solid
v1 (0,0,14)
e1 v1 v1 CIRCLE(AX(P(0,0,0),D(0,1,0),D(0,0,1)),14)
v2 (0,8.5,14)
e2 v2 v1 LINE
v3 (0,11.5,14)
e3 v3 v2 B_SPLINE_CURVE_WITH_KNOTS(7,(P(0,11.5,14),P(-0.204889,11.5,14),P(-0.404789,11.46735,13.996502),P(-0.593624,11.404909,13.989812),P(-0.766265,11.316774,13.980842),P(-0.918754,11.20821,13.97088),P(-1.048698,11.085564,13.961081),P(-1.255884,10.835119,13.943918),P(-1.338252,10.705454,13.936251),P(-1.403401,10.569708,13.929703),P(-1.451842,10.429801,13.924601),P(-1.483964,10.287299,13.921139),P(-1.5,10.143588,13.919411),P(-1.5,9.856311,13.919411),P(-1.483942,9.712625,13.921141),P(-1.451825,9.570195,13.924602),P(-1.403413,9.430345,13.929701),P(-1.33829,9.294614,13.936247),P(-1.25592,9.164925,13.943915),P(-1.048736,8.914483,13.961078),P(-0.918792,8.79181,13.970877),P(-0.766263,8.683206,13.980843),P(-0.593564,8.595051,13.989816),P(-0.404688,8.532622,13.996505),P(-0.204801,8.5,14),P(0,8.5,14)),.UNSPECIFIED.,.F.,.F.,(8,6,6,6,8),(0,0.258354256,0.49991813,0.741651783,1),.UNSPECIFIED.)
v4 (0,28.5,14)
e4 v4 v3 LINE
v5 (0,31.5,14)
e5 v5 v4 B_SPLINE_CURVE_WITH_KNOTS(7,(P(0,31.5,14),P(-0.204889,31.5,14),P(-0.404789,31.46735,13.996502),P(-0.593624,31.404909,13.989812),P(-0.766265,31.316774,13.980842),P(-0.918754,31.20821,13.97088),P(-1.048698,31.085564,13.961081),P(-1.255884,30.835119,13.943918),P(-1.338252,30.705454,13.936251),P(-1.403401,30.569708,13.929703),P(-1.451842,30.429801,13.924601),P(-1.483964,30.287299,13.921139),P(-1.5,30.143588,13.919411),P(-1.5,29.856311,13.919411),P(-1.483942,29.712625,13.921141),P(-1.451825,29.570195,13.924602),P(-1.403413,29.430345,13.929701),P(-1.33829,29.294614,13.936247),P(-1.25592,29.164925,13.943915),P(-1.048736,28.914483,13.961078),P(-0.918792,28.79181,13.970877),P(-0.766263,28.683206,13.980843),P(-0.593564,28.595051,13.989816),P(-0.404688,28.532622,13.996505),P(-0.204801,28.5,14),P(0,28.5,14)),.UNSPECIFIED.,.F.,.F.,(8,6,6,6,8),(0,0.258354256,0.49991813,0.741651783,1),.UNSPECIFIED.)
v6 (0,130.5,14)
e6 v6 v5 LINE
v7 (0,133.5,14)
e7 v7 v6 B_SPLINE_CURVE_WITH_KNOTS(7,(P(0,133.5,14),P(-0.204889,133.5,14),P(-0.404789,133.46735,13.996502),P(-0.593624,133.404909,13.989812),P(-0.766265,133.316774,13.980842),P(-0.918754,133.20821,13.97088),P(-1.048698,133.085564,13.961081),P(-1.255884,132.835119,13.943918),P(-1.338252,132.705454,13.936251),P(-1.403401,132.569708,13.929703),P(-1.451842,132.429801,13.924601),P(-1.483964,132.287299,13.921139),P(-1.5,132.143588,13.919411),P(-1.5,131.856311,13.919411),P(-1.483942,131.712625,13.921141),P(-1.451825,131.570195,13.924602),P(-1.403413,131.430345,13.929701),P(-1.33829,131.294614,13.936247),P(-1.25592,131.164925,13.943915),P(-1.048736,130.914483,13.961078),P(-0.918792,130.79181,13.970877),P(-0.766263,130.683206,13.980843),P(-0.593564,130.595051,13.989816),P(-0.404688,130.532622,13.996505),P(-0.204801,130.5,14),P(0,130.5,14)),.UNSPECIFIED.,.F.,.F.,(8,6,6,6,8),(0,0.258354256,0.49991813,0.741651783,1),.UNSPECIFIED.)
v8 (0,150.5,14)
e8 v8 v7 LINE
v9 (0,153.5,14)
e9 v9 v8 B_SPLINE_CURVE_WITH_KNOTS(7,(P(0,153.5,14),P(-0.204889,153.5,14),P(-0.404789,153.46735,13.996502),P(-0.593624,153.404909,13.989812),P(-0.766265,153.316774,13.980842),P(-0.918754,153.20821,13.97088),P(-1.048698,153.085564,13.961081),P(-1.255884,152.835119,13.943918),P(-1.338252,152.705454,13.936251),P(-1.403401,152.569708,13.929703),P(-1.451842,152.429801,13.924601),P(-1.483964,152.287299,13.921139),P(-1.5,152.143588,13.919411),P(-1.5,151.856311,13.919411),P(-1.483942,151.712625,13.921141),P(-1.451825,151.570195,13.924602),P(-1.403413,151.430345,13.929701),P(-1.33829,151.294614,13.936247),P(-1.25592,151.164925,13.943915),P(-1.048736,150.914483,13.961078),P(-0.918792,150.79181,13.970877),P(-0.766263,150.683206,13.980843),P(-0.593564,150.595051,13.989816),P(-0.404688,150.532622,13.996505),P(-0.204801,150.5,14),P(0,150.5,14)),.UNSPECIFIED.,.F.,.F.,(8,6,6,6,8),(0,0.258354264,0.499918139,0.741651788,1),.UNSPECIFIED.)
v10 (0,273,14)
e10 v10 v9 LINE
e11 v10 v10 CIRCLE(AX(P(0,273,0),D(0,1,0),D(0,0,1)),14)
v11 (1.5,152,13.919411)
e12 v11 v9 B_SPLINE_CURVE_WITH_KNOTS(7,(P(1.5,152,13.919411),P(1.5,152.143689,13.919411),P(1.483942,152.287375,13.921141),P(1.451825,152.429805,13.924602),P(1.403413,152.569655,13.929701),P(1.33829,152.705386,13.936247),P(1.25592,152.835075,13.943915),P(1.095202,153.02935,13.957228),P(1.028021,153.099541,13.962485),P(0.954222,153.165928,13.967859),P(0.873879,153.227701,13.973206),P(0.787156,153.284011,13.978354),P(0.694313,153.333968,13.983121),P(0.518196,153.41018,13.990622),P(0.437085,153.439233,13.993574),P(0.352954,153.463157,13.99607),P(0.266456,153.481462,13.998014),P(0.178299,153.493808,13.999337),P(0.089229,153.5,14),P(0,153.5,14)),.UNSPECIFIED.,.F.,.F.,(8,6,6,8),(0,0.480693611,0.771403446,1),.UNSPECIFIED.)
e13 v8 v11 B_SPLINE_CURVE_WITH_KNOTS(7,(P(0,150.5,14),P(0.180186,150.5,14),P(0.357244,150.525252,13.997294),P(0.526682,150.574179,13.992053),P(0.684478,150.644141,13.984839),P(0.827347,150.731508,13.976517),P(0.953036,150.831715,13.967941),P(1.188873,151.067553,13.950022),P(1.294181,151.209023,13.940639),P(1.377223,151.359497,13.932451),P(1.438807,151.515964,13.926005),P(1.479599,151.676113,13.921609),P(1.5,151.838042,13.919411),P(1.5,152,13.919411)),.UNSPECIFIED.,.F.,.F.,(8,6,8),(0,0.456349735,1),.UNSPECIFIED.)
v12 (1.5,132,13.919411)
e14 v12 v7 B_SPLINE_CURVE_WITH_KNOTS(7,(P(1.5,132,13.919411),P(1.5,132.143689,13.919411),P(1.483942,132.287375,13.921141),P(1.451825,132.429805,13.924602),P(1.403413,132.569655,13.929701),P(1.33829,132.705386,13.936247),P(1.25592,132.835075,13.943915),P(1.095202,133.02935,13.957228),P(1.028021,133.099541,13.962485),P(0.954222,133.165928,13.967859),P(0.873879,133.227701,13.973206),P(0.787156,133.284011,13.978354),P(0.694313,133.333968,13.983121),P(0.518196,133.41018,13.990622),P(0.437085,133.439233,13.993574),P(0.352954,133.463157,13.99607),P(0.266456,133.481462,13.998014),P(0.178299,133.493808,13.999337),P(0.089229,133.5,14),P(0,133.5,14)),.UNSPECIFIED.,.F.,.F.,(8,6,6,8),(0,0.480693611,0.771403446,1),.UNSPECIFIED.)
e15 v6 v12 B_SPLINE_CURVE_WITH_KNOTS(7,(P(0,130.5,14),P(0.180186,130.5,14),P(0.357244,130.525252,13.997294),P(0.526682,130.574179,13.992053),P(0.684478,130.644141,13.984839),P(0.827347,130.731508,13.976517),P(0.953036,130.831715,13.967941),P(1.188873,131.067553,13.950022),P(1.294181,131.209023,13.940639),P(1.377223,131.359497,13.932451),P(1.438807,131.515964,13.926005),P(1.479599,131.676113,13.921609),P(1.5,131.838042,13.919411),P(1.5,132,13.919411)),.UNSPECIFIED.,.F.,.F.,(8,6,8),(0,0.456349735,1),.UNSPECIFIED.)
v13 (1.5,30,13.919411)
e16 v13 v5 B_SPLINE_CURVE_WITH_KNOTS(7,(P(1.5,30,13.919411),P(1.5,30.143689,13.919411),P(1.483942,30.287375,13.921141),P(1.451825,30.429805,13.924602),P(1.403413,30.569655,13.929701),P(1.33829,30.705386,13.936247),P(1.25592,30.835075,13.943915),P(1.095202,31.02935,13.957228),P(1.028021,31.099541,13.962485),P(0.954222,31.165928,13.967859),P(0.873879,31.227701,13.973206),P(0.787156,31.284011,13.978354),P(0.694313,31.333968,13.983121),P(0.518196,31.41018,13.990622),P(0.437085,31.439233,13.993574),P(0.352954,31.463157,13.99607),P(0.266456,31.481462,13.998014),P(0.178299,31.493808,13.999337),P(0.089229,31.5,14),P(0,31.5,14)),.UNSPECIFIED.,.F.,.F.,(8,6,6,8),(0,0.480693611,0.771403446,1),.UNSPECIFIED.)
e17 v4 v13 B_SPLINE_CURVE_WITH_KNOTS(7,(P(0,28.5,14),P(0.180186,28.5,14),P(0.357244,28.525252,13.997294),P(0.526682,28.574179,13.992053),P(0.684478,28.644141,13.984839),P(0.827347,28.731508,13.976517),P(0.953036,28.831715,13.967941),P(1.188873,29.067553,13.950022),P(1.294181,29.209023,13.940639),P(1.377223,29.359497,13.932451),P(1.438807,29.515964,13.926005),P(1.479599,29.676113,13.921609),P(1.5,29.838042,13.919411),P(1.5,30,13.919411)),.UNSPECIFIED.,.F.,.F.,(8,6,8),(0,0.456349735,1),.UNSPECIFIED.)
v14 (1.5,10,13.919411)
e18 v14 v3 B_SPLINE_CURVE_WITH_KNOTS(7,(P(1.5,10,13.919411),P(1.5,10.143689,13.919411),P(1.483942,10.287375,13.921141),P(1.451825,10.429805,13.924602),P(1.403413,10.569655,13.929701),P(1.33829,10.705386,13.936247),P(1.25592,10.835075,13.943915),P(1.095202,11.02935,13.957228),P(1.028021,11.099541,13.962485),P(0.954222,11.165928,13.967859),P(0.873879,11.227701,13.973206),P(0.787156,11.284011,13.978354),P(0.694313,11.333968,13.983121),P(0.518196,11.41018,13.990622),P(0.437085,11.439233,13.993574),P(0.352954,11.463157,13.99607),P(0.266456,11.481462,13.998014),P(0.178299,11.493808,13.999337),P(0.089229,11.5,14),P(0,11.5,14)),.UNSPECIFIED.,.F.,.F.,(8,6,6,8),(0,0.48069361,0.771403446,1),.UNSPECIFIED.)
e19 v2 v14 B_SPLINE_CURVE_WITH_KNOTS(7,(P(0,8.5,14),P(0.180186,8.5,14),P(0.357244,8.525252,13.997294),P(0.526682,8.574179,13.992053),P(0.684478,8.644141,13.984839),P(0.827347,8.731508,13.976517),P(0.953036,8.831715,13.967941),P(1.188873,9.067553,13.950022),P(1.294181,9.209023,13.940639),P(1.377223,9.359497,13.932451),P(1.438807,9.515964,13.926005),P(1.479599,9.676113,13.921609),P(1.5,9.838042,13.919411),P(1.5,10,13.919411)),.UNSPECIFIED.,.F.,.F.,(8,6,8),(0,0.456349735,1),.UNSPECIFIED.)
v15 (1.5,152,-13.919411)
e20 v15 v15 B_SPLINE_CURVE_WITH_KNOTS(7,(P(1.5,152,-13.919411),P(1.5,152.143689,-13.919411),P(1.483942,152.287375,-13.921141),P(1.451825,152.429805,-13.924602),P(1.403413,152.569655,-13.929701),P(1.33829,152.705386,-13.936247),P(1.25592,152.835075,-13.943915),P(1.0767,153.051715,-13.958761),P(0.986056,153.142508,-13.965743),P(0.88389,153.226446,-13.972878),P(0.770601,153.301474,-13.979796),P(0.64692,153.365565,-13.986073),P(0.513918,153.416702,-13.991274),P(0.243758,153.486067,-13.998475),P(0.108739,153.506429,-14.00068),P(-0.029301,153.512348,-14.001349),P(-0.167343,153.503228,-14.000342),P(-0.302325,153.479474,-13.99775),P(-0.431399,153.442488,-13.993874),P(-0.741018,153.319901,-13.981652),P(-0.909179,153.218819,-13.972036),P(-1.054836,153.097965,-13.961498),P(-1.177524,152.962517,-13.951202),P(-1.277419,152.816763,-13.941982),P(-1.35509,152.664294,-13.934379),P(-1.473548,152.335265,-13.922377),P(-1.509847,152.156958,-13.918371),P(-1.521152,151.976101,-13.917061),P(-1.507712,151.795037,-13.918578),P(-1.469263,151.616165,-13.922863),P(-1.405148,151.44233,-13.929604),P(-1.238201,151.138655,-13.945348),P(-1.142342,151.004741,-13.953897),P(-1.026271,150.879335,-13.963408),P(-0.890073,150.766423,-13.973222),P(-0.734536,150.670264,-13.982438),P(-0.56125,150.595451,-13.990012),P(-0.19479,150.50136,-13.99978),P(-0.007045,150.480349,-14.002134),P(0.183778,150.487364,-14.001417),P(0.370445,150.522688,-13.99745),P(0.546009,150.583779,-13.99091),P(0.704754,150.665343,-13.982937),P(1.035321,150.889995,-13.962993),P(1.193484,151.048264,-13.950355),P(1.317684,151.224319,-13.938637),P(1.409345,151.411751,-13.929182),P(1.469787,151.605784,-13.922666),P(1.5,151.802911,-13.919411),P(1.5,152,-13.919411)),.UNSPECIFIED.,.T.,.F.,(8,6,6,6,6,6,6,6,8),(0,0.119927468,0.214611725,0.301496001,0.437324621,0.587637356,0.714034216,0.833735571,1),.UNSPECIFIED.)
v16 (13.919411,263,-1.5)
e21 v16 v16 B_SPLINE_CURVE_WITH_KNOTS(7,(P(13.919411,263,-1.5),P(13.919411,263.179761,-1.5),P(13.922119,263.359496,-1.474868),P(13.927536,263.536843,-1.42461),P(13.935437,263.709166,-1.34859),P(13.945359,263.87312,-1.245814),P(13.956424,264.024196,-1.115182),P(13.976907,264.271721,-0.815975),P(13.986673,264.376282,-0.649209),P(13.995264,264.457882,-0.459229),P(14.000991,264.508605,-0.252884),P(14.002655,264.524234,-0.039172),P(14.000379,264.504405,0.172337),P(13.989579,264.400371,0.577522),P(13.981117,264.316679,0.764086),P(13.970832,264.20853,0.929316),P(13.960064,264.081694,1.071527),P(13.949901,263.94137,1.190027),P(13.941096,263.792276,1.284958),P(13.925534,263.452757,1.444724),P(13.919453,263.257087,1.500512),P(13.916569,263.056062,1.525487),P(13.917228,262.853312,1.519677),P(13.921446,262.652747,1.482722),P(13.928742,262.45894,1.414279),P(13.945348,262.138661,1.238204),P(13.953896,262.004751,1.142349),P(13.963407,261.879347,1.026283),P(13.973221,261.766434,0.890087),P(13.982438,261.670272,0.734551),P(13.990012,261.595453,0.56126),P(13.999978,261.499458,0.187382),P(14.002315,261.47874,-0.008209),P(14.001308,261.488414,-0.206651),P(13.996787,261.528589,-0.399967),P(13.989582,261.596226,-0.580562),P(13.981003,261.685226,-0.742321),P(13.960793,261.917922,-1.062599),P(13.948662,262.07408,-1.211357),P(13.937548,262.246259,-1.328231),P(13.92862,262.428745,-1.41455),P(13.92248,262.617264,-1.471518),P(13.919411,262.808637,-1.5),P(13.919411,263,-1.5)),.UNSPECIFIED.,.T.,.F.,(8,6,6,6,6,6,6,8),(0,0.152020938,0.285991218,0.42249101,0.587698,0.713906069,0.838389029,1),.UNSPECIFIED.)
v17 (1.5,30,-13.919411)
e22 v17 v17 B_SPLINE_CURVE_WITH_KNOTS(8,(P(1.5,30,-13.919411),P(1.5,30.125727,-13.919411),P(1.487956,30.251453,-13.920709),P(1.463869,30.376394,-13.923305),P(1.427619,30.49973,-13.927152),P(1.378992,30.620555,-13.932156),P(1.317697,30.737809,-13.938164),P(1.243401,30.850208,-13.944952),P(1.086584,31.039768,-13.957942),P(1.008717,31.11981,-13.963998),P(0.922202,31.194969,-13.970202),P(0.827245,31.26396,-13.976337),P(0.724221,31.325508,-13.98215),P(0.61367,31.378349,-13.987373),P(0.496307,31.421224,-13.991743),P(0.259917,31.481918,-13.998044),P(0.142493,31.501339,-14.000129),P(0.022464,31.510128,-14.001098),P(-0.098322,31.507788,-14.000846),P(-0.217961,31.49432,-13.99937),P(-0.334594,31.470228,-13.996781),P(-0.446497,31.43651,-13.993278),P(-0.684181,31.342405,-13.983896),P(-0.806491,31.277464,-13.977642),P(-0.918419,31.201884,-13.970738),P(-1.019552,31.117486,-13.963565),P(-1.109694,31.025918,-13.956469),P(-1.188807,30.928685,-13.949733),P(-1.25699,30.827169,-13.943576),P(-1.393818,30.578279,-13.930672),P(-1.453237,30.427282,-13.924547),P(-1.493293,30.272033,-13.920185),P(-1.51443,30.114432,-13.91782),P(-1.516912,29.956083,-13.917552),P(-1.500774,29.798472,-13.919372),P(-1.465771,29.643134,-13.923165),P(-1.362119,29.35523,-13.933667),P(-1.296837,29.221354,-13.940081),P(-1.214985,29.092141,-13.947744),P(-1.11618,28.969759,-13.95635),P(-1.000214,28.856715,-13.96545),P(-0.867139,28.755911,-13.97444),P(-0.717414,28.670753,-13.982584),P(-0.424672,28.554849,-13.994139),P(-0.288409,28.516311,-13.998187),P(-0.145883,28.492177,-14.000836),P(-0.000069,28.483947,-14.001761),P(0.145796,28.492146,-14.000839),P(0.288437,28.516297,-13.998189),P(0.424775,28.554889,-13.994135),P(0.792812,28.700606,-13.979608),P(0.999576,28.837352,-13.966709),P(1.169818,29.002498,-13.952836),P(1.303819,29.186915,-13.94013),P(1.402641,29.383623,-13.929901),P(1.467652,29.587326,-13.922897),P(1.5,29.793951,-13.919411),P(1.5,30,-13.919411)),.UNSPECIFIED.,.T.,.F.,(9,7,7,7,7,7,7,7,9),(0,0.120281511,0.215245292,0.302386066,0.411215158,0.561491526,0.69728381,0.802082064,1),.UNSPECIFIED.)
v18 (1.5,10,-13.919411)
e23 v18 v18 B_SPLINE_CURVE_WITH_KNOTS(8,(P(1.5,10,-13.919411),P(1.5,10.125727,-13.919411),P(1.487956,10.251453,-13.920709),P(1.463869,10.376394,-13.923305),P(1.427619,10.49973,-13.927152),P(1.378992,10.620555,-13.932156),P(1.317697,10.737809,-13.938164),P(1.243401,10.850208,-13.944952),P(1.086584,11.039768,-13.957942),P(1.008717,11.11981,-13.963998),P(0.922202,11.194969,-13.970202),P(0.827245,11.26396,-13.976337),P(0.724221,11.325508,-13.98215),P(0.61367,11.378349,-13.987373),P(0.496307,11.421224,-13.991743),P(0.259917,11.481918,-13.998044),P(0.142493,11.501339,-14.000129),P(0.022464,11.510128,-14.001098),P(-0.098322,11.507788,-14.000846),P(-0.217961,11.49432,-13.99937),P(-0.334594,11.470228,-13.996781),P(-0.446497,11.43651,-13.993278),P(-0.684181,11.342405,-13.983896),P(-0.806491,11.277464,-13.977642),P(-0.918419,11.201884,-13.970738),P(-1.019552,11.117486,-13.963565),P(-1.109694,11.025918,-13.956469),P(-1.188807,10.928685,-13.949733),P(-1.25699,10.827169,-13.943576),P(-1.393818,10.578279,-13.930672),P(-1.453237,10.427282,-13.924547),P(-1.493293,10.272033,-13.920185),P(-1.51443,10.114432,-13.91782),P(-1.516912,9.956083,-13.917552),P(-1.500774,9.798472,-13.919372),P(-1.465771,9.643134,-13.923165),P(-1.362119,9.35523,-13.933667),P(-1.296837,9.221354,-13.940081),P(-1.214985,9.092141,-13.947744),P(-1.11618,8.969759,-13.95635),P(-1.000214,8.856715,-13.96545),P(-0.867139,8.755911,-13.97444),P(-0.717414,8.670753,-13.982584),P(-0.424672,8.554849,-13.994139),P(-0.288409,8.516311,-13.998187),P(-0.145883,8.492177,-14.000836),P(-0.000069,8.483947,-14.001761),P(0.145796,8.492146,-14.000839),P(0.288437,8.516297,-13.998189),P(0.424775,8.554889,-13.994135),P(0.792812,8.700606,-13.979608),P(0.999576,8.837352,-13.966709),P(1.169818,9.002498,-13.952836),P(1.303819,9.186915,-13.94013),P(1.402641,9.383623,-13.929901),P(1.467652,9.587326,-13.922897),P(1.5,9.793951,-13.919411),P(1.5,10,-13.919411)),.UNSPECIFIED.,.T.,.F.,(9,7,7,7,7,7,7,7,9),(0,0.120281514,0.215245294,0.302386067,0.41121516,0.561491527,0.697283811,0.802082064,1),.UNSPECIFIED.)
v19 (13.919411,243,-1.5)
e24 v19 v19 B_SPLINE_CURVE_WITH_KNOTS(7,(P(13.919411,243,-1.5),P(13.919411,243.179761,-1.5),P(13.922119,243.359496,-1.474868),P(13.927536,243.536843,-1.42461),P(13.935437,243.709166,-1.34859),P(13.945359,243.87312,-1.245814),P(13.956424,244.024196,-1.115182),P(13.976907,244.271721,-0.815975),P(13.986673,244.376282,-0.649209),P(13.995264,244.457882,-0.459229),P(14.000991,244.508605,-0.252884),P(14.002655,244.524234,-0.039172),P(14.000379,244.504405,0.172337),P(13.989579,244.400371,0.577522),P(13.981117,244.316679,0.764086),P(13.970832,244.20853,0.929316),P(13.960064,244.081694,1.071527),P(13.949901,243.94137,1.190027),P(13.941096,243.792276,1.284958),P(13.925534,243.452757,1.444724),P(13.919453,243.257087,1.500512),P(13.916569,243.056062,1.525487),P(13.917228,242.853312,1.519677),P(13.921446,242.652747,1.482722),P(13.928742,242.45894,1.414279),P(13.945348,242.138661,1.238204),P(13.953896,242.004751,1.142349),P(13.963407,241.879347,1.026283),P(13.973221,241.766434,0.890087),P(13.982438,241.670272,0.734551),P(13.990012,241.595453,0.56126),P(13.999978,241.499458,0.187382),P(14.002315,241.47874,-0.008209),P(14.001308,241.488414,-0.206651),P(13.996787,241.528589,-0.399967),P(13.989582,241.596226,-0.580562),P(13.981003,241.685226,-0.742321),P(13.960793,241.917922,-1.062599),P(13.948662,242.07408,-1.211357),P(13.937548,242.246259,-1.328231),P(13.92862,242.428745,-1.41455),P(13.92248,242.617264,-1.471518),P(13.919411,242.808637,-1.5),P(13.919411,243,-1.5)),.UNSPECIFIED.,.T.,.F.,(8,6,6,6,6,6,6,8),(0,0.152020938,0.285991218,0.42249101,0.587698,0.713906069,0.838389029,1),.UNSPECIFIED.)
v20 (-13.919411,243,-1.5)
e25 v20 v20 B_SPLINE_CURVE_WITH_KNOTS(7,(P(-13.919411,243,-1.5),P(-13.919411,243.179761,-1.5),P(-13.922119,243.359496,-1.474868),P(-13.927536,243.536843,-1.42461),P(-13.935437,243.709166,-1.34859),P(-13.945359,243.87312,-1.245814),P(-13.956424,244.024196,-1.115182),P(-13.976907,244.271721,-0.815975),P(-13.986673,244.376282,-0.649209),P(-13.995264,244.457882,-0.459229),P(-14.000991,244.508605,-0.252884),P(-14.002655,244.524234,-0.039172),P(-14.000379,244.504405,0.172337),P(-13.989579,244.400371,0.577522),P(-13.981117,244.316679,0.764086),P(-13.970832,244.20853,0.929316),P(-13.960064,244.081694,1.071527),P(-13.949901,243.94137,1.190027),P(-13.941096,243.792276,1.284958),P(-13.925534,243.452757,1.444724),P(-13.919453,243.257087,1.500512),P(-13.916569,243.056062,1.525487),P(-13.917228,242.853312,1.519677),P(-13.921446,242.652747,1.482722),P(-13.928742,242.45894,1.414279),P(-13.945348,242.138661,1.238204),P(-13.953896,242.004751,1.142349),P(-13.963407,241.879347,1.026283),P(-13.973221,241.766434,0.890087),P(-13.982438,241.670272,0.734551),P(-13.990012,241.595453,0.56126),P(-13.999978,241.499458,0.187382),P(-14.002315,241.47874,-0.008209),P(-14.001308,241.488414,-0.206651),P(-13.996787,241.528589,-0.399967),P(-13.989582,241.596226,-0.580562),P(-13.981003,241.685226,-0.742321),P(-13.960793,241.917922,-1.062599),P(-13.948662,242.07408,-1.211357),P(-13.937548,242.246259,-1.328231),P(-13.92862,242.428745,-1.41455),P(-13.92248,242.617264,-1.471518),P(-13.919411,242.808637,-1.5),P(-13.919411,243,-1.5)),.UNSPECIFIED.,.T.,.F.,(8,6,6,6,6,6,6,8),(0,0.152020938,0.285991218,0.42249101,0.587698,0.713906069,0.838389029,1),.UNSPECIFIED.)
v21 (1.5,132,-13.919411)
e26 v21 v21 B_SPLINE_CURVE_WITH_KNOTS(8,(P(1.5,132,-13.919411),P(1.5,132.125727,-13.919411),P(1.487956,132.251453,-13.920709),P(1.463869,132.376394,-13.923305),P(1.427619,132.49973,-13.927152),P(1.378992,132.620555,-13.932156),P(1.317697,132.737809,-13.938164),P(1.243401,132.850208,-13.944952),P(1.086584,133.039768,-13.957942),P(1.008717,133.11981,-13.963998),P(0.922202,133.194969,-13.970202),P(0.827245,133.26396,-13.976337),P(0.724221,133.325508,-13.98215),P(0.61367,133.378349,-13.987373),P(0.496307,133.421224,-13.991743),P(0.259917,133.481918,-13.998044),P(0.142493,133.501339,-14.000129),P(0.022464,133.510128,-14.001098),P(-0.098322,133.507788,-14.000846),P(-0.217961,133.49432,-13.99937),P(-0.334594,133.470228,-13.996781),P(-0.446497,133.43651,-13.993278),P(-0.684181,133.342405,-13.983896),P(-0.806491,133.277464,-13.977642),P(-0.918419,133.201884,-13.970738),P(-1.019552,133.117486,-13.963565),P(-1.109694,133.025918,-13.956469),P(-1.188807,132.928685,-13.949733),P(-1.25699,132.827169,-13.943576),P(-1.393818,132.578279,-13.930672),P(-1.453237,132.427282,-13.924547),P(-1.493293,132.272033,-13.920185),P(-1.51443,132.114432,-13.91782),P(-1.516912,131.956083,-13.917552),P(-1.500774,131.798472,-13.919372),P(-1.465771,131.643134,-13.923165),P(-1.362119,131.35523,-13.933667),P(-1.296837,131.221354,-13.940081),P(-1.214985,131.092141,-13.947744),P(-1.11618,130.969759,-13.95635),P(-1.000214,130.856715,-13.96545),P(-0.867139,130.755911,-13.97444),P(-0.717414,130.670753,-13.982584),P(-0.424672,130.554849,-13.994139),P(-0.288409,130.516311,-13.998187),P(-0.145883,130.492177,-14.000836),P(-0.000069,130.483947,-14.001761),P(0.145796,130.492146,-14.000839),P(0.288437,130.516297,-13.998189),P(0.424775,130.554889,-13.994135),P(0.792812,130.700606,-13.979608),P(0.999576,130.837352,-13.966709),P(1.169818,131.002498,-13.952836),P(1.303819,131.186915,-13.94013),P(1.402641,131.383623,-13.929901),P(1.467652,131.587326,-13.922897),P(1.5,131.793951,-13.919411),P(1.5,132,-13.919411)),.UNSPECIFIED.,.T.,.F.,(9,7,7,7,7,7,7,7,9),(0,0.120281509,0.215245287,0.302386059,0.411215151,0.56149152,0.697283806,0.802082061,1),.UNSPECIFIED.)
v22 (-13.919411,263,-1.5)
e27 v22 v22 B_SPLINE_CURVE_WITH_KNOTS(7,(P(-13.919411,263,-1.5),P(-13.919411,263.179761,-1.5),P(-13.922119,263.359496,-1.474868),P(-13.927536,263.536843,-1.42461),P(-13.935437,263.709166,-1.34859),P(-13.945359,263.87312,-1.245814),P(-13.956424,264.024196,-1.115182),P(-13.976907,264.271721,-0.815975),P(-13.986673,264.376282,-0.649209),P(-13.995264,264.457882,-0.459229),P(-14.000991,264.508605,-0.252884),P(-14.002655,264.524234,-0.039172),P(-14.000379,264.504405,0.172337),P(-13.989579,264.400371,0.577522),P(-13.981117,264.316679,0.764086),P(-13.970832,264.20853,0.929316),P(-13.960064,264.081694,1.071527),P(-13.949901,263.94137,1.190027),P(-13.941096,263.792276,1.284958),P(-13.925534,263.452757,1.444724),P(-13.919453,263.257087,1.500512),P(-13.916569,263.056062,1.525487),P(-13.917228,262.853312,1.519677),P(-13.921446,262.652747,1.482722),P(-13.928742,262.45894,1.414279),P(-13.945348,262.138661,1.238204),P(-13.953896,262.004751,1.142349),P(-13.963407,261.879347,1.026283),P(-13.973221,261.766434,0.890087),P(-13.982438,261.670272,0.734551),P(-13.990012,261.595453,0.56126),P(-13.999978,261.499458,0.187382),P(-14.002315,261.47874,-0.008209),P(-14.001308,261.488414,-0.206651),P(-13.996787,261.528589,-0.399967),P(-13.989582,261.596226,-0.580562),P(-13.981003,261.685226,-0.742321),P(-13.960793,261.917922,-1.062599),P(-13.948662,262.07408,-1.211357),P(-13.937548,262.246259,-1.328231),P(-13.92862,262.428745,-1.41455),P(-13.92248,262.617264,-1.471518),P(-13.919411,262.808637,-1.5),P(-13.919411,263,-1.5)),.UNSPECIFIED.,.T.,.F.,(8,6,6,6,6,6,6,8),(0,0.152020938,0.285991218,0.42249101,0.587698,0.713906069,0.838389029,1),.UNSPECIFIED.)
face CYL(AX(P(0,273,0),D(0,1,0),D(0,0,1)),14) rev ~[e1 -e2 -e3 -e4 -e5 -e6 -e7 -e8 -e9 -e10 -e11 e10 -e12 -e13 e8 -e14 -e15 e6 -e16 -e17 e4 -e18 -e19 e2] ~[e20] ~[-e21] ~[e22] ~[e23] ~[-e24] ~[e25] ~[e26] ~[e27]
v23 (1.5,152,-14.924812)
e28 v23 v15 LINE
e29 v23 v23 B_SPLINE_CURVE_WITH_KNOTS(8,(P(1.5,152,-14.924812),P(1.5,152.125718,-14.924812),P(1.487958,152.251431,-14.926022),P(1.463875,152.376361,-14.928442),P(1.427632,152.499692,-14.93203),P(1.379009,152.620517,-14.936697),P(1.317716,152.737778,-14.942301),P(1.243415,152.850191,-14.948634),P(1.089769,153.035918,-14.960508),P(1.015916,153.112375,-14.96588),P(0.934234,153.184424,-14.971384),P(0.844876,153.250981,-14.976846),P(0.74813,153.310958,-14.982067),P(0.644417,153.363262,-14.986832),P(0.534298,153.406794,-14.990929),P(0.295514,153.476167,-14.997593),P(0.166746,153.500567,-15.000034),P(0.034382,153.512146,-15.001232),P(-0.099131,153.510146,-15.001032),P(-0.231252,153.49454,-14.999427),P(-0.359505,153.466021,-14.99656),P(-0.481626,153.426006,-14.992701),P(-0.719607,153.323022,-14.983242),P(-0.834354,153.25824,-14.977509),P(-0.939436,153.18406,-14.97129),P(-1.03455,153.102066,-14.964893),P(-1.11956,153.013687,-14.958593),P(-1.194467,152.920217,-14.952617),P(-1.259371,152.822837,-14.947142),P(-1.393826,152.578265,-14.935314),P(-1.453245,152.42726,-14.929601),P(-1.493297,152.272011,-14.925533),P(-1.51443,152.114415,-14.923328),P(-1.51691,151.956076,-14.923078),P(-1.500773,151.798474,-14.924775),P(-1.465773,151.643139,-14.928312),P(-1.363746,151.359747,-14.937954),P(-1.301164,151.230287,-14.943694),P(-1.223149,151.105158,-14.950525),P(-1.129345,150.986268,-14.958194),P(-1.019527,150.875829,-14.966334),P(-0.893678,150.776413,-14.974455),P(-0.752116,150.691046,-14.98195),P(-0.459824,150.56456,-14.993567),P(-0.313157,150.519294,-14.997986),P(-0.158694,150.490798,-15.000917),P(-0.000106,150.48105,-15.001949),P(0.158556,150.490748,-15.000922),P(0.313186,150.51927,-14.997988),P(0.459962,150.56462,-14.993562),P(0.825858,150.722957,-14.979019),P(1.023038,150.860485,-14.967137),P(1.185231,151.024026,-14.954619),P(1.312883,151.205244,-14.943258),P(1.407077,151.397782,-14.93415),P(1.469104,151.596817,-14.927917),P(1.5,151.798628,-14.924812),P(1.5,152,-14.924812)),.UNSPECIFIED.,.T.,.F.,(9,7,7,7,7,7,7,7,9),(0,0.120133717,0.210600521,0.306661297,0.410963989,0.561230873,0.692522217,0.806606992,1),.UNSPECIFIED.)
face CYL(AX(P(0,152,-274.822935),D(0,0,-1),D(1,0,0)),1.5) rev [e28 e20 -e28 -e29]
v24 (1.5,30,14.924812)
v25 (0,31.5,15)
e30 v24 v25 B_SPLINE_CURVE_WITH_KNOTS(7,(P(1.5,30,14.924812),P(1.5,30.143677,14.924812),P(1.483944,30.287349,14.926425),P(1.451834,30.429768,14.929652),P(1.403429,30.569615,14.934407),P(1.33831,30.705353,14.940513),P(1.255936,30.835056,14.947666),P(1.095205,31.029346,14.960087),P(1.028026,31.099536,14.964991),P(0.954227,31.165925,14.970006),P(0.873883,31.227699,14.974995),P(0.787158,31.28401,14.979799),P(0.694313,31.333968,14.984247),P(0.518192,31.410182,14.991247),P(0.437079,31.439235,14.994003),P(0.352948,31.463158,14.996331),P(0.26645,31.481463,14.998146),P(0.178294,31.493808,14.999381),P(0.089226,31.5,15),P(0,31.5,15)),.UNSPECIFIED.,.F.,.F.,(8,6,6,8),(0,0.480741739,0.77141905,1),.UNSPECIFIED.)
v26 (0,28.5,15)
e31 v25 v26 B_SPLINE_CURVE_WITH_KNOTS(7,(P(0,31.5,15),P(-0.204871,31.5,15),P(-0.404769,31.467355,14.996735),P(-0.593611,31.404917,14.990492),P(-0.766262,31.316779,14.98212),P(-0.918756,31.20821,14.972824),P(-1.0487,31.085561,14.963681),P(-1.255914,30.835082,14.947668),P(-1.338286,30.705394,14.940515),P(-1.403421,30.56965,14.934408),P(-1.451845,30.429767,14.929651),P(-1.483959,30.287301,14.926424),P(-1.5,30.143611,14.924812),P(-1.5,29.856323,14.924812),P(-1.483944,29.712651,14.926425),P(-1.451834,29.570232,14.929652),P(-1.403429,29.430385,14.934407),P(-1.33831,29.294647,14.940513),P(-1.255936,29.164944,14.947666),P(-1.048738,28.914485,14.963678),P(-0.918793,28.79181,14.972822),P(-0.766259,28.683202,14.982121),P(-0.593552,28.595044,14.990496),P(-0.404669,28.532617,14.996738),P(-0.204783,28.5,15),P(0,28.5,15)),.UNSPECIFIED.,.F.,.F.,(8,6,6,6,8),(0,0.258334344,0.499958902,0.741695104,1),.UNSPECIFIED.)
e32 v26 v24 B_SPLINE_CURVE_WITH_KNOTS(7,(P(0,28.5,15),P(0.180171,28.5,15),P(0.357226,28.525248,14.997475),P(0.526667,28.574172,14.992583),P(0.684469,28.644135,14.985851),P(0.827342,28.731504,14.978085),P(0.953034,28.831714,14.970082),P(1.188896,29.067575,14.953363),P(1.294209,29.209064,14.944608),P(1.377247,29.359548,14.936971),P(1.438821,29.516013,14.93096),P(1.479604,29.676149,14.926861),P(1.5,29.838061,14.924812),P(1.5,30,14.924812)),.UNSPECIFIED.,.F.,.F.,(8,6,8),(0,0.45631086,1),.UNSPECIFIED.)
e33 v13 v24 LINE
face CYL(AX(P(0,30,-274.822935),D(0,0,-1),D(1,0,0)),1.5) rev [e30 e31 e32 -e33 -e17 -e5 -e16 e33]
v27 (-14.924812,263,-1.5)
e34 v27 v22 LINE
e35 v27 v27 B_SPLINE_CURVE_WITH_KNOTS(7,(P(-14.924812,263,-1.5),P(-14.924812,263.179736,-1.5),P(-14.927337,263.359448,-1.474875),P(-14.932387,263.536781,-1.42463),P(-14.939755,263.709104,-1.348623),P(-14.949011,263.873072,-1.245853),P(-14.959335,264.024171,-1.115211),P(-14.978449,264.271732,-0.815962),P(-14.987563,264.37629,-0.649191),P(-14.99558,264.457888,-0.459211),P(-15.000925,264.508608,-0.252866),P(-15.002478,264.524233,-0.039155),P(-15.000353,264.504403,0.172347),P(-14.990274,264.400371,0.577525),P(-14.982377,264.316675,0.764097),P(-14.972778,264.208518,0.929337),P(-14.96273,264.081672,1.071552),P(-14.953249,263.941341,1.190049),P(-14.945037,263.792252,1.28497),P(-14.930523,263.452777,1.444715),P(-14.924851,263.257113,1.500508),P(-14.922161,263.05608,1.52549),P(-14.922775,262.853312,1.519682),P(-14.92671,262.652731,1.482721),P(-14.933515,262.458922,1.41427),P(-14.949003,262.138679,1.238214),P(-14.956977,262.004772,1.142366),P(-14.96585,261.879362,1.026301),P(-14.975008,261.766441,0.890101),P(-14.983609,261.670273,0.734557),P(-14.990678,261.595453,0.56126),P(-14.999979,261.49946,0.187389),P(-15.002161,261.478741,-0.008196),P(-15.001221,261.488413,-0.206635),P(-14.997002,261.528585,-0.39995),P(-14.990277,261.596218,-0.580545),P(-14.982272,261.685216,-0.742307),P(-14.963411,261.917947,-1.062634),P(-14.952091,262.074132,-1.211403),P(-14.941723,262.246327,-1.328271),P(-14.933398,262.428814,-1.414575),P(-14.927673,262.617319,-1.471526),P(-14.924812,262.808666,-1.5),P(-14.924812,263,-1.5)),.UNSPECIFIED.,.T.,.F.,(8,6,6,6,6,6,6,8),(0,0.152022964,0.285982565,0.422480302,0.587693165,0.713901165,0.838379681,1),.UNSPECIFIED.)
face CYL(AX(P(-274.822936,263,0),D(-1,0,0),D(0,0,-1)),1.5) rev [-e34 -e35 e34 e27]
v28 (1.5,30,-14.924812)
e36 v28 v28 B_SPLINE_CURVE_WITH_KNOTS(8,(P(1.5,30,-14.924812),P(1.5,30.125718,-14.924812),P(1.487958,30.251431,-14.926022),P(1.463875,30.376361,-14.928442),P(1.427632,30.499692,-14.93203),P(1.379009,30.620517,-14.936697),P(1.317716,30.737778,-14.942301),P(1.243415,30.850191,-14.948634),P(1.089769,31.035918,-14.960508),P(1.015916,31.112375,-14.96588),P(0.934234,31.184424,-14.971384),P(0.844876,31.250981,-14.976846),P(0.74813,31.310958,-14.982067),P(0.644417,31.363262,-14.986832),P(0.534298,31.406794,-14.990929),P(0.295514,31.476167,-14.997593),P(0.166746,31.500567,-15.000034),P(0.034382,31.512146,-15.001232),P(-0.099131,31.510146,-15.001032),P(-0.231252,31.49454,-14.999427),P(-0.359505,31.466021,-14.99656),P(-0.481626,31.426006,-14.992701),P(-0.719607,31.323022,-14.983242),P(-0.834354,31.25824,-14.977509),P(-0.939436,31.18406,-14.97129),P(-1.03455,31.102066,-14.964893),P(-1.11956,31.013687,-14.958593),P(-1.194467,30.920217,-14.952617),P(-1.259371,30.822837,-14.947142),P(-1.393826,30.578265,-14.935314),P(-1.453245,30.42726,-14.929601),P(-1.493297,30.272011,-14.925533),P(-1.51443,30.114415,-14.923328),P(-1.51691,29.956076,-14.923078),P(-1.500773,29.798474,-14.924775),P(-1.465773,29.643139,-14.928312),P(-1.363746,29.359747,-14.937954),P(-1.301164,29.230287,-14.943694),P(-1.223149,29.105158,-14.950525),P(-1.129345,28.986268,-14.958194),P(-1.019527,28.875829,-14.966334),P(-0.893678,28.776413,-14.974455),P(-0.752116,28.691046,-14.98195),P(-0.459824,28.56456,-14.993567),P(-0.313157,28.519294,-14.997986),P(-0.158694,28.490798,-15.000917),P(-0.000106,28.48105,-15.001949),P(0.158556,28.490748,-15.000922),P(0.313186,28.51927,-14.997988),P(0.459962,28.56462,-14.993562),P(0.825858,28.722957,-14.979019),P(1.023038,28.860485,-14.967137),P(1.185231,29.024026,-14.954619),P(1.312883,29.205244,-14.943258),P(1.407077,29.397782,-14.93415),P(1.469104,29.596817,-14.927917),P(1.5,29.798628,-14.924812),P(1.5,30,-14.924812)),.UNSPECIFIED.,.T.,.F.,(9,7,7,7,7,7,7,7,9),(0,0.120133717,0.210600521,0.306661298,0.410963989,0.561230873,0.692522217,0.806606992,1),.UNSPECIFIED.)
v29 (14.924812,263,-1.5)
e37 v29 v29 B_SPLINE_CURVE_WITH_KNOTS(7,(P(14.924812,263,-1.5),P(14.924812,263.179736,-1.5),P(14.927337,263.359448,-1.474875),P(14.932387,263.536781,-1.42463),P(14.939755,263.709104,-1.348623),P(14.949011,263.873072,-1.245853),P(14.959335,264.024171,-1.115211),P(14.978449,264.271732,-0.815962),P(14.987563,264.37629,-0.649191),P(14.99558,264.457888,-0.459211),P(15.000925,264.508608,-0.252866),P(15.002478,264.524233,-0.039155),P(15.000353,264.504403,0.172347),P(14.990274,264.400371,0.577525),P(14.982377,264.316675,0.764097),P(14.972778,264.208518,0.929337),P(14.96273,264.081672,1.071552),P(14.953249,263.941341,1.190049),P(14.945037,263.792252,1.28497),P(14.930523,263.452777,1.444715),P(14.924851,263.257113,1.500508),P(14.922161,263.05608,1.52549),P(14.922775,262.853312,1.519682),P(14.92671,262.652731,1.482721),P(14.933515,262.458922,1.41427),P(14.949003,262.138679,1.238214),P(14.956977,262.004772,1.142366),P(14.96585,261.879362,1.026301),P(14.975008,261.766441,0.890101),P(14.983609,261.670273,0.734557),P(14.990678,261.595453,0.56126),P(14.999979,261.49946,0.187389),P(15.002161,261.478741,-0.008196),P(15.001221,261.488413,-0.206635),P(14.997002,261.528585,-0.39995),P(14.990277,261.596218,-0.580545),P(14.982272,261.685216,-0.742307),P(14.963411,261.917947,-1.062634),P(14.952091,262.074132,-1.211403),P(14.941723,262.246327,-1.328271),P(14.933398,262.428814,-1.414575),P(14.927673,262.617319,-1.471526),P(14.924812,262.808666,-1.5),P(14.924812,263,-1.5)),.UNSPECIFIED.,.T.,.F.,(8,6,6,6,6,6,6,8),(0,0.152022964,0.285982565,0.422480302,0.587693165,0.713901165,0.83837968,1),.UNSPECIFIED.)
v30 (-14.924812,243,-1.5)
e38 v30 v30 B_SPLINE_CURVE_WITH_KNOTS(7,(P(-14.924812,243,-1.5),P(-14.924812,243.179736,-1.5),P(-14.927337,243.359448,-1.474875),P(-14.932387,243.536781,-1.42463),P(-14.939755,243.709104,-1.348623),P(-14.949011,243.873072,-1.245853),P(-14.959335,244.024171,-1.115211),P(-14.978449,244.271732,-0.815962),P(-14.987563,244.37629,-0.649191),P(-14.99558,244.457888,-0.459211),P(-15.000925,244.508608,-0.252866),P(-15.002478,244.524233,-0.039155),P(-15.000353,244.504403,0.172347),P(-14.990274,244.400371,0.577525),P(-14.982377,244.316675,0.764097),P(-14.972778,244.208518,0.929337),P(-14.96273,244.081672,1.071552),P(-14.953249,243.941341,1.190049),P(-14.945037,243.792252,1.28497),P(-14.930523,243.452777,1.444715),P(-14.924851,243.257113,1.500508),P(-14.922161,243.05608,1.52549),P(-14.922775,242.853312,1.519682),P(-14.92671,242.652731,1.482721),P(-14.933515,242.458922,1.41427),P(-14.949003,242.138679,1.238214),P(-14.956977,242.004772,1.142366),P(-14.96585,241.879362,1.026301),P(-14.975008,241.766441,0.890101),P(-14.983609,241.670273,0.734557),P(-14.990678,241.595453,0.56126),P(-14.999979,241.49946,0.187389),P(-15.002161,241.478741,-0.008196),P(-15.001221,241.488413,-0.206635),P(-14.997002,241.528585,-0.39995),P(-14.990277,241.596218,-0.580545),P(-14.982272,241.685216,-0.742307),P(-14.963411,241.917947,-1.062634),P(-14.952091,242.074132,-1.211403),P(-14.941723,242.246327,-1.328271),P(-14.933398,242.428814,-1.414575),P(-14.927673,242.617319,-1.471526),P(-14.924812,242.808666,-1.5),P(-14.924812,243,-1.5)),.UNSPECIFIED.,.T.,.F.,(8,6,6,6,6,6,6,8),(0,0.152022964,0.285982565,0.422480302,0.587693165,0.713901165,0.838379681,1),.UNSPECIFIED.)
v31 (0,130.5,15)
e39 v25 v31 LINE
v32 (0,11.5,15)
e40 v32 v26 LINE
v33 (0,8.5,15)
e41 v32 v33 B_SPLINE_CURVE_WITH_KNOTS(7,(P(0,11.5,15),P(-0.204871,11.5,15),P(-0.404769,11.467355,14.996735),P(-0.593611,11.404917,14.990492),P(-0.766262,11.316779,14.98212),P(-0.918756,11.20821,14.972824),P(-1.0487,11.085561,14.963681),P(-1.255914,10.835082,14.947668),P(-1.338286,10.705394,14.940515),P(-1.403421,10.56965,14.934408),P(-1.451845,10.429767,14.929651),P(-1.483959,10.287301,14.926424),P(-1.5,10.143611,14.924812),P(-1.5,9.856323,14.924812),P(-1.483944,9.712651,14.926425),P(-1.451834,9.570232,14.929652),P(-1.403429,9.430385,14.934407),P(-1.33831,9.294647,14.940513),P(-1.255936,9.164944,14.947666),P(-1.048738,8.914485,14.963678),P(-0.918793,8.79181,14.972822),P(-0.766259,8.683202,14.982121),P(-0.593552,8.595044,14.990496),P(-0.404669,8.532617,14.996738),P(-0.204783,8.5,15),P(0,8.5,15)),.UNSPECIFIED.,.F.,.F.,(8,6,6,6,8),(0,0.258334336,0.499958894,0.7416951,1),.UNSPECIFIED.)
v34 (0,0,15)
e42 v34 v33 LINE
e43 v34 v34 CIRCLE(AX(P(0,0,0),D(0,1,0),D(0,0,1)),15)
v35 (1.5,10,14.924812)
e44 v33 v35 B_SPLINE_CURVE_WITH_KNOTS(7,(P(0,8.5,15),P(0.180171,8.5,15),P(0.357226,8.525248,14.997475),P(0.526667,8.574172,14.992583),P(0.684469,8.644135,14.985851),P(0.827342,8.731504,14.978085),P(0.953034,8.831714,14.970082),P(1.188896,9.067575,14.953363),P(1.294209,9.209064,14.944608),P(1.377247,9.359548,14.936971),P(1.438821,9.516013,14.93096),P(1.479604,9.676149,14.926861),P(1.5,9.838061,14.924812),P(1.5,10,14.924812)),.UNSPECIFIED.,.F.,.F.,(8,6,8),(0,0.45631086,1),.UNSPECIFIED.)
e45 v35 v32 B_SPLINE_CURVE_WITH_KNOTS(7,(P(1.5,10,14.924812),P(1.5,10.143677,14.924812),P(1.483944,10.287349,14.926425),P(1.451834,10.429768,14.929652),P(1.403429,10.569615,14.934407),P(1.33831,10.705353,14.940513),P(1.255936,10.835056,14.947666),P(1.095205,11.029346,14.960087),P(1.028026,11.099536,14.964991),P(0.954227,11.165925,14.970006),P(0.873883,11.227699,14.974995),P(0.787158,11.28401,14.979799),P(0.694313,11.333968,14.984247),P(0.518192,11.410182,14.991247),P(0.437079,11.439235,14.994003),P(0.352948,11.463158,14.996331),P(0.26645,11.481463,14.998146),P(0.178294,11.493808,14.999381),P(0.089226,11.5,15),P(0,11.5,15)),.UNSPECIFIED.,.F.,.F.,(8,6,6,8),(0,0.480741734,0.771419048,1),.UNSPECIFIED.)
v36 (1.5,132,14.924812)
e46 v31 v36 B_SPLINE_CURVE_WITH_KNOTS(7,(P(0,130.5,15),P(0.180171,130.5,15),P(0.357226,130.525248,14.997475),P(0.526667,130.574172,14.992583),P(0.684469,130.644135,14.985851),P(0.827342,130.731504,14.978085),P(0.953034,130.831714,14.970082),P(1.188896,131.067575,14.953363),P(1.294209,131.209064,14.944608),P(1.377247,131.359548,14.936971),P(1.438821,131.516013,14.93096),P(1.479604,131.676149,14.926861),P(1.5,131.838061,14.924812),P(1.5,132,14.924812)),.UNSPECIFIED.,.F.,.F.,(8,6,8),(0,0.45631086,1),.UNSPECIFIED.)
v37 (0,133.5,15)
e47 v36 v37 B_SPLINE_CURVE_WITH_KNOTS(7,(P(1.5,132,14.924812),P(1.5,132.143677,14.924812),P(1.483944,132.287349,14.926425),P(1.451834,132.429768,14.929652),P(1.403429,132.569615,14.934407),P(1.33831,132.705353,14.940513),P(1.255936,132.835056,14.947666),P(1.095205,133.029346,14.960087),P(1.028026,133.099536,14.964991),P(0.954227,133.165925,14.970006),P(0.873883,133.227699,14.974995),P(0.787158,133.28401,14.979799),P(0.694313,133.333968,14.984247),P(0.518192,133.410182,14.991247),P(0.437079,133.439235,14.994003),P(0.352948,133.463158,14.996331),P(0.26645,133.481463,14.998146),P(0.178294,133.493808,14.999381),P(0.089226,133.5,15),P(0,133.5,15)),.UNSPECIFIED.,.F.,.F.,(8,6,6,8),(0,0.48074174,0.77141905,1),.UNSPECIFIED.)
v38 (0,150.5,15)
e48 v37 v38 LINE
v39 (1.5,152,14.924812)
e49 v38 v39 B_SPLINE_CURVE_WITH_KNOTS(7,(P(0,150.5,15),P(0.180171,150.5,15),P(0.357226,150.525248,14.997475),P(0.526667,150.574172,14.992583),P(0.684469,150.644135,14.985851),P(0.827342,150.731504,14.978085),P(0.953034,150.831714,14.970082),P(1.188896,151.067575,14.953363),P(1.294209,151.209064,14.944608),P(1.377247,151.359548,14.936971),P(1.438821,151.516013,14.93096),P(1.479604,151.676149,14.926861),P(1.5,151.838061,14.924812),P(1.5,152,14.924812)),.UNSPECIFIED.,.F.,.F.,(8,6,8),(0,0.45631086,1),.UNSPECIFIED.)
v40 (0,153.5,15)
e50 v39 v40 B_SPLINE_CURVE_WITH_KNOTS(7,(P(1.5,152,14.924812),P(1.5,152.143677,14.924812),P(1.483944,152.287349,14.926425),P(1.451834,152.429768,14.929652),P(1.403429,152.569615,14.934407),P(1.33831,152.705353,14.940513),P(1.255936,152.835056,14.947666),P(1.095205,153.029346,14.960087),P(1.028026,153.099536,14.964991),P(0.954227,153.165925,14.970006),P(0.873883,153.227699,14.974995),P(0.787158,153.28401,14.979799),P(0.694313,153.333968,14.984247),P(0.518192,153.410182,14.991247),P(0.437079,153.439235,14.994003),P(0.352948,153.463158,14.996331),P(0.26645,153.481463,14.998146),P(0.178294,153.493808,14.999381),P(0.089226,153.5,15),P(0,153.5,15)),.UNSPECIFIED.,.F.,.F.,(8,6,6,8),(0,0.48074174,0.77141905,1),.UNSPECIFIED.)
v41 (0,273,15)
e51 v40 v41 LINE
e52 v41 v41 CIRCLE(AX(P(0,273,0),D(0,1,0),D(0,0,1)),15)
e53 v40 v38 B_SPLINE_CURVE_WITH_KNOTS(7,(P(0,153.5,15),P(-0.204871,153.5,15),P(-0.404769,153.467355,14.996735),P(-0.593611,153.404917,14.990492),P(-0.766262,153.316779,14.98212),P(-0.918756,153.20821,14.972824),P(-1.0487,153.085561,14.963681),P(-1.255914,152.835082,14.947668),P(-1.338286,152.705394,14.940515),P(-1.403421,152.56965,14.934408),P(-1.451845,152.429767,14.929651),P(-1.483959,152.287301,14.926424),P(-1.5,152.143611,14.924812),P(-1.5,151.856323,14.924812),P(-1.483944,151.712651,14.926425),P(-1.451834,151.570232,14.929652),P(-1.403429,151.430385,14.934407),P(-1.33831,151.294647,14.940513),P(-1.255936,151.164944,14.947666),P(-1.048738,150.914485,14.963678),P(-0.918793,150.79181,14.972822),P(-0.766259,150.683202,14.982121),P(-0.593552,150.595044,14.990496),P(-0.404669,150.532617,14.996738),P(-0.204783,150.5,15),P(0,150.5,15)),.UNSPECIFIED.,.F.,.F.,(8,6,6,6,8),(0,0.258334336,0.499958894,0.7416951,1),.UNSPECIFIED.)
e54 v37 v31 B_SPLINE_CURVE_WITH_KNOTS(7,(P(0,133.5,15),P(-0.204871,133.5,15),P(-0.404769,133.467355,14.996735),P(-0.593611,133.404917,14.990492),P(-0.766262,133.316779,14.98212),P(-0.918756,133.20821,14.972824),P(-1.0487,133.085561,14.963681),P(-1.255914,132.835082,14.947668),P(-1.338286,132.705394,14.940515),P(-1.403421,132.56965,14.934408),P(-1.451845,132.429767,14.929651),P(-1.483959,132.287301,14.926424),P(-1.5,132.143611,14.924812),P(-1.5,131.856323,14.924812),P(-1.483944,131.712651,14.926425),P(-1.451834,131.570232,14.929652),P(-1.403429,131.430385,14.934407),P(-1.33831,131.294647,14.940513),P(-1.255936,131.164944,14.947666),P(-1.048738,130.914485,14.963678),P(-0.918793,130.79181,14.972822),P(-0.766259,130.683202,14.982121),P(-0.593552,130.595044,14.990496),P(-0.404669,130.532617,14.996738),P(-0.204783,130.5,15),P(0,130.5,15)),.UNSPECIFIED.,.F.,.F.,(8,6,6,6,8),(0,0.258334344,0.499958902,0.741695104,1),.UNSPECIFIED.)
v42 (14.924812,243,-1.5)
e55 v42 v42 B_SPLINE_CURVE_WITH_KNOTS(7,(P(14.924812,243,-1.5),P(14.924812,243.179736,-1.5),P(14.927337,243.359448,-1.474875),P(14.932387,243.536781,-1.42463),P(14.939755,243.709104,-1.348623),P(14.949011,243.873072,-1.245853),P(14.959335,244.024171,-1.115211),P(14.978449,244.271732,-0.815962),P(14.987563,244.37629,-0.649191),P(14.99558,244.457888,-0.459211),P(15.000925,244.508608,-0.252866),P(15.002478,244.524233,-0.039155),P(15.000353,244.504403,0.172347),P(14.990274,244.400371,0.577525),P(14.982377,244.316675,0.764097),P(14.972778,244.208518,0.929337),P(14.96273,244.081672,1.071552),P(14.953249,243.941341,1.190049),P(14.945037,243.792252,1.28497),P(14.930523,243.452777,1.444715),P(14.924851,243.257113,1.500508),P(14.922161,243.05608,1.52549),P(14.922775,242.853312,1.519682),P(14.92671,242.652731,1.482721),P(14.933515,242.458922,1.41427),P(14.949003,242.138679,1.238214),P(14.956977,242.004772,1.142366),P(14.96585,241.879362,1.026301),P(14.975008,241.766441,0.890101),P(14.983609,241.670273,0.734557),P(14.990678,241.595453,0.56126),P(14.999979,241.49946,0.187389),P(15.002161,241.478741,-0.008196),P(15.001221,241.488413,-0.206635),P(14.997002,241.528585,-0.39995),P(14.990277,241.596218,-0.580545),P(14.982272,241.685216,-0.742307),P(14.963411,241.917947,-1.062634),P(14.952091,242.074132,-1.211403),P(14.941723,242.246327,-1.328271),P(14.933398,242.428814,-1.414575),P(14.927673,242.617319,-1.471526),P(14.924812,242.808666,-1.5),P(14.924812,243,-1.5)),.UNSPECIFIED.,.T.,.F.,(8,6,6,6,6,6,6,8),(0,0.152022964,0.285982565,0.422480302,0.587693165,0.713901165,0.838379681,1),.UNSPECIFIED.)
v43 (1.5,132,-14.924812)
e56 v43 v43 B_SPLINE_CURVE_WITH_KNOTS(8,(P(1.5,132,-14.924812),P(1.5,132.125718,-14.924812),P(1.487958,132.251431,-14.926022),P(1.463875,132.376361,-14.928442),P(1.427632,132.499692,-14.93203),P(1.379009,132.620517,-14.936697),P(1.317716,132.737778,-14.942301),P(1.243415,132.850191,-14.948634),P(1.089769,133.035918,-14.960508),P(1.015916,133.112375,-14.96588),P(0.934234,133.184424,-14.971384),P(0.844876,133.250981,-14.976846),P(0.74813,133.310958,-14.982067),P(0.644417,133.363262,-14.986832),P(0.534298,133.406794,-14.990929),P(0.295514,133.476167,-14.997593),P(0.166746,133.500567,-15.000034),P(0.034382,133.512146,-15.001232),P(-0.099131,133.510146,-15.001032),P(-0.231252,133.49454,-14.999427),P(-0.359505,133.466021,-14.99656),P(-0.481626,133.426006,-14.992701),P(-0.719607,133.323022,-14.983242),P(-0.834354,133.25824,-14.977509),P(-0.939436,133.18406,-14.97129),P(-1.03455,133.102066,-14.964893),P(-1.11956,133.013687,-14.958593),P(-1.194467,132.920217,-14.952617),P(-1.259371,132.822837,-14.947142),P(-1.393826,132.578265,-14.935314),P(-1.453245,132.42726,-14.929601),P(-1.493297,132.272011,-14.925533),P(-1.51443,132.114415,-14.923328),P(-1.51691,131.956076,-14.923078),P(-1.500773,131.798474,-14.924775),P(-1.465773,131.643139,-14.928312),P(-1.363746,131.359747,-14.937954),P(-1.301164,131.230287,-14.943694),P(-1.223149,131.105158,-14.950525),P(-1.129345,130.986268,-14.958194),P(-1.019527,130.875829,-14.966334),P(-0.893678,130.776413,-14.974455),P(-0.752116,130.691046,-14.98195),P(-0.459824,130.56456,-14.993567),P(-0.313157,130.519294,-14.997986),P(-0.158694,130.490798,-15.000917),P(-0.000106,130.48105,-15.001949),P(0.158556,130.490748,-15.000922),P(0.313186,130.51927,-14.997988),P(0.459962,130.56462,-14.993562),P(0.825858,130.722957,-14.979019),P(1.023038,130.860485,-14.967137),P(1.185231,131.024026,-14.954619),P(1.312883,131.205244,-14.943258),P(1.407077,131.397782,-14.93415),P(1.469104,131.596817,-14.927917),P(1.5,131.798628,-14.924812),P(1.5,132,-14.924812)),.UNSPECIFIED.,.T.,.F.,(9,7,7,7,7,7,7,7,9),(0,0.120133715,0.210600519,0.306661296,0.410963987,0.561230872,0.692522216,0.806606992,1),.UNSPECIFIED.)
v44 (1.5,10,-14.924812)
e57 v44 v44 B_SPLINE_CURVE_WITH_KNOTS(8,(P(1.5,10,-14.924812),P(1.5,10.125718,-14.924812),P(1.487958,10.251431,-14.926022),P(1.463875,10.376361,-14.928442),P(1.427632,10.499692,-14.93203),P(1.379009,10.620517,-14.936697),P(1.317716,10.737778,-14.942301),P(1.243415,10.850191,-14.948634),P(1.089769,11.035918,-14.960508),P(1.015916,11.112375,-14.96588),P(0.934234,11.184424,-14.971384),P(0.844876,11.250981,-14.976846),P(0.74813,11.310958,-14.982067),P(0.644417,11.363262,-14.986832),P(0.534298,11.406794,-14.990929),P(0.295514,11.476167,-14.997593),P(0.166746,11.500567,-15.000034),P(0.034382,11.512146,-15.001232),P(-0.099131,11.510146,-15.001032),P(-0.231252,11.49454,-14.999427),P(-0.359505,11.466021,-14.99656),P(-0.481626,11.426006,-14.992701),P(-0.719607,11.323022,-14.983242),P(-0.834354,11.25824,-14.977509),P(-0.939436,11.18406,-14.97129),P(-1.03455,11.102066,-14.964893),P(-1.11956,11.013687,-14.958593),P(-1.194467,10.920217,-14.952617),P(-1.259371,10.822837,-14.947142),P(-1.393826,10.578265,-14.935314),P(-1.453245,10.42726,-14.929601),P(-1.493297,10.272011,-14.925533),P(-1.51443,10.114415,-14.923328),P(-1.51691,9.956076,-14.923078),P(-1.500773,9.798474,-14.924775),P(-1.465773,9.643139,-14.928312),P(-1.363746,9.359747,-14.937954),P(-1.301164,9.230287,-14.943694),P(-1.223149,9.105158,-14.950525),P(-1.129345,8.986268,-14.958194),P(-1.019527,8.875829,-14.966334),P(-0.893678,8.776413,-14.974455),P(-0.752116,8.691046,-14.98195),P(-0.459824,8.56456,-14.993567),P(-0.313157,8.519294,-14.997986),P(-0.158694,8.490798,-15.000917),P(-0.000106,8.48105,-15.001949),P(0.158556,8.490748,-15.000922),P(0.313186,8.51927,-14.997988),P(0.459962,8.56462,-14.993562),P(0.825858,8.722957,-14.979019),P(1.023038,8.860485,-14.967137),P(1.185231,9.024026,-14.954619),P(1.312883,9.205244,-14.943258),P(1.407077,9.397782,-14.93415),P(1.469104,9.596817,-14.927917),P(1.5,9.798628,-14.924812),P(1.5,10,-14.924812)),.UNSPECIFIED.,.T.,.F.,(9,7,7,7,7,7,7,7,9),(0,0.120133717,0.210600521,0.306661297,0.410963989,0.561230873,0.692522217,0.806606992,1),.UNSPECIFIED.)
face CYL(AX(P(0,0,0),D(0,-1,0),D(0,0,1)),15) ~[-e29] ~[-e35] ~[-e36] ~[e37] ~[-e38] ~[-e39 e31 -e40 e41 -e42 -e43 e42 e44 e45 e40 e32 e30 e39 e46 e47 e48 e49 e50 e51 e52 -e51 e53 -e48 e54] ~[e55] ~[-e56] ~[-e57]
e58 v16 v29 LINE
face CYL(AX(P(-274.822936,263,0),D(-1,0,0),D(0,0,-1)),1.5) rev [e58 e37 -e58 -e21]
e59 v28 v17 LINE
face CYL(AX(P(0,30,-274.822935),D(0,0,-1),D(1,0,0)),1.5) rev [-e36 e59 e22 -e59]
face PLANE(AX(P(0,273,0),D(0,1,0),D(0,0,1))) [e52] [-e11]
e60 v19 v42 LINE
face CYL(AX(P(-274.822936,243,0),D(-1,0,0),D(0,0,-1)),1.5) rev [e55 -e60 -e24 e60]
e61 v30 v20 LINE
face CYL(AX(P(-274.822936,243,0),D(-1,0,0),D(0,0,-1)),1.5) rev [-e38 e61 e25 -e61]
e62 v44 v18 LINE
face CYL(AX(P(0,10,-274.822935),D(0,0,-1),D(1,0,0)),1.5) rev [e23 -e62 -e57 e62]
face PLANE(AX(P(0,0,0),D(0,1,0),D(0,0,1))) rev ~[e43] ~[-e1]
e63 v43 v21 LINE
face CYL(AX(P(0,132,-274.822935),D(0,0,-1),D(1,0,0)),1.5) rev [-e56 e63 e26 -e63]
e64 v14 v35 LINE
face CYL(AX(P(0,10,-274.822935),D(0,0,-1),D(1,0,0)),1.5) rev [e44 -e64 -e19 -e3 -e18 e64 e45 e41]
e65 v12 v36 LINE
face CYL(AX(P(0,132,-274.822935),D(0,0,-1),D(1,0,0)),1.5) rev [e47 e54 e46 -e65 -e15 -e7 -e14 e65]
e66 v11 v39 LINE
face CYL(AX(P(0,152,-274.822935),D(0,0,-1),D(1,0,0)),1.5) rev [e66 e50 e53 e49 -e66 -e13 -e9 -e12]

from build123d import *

# Parameters (mm, degrees)
SKETCH_1_R               = 15
EXTRUDE_1_DEPTH          = 273
CUT_EXTRUDE_1_DEPTH      = 274.822935489
CUT_EXTRUDE_1_DEPTH_BACK = 274.822935489
SKETCH_2_R               = 1.5
CUT_EXTRUDE_2_DEPTH      = 274.8229356
CUT_EXTRUDE_2_DEPTH_BACK = 274.8229356
SKETCH_3_R               = 1.5
CUT_EXTRUDE_3_REACH      = 275.823
SKETCH_4_R               = 14


with BuildPart() as part:
    # 草圖1 → 填料-伸長1 (new body)
    with BuildSketch(Plane(origin=(0, 0, 0), x_dir=(1, 0, 0), z_dir=(0, 1, 0))):
        with Locations(Location((0, 0, 0), (0, 0, 270))):
            Circle(SKETCH_1_R)
    extrude(amount=EXTRUDE_1_DEPTH)

    # 草圖2 → 除料-伸長1 (cut, two sides: drawn at the far end of the back side and taken through both)
    with BuildSketch(Plane.XY.offset(-CUT_EXTRUDE_1_DEPTH_BACK)):
        with Locations((0, 10)):
            Circle(SKETCH_2_R)
        with Locations((0, 30)):
            Circle(SKETCH_2_R)
        with Locations((0, 132)):
            Circle(SKETCH_2_R)
        with Locations((0, 152)):
            Circle(SKETCH_2_R)
    extrude(amount=CUT_EXTRUDE_1_DEPTH + CUT_EXTRUDE_1_DEPTH_BACK, mode=Mode.SUBTRACT)

    # 草圖3 → 除料-伸長2 (cut, two sides: drawn at the far end of the back side and taken through both)
    with BuildSketch(Plane(origin=(0, 0, 0), x_dir=(0, 0, -1), z_dir=(1, 0, 0)).offset(-CUT_EXTRUDE_2_DEPTH_BACK)):
        with Locations((0, 263)):
            Circle(SKETCH_3_R)
        with Locations((0, 243)):
            Circle(SKETCH_3_R)
    extrude(amount=CUT_EXTRUDE_2_DEPTH + CUT_EXTRUDE_2_DEPTH_BACK, mode=Mode.SUBTRACT)

    # 草圖4 → 除料-伸長3 (cut, up to next)
    with BuildSketch(Plane(origin=(0, 273, 0), x_dir=(1, 0, 0), z_dir=(0, 1, 0)), mode=Mode.PRIVATE) as cut_extrude_3_sk1:
        with Locations(Location((0, 0, 0), (0, 0, 270))):
            Circle(SKETCH_4_R)
    cut_extrude_3_tool1 = extrude(cut_extrude_3_sk1.sketch, amount=-CUT_EXTRUDE_3_REACH, mode=Mode.PRIVATE) & part.part
    add(cut_extrude_3_tool1.solids().sort_by_distance((0, 273, 0))[0], mode=Mode.SUBTRACT)


solid = part.part
